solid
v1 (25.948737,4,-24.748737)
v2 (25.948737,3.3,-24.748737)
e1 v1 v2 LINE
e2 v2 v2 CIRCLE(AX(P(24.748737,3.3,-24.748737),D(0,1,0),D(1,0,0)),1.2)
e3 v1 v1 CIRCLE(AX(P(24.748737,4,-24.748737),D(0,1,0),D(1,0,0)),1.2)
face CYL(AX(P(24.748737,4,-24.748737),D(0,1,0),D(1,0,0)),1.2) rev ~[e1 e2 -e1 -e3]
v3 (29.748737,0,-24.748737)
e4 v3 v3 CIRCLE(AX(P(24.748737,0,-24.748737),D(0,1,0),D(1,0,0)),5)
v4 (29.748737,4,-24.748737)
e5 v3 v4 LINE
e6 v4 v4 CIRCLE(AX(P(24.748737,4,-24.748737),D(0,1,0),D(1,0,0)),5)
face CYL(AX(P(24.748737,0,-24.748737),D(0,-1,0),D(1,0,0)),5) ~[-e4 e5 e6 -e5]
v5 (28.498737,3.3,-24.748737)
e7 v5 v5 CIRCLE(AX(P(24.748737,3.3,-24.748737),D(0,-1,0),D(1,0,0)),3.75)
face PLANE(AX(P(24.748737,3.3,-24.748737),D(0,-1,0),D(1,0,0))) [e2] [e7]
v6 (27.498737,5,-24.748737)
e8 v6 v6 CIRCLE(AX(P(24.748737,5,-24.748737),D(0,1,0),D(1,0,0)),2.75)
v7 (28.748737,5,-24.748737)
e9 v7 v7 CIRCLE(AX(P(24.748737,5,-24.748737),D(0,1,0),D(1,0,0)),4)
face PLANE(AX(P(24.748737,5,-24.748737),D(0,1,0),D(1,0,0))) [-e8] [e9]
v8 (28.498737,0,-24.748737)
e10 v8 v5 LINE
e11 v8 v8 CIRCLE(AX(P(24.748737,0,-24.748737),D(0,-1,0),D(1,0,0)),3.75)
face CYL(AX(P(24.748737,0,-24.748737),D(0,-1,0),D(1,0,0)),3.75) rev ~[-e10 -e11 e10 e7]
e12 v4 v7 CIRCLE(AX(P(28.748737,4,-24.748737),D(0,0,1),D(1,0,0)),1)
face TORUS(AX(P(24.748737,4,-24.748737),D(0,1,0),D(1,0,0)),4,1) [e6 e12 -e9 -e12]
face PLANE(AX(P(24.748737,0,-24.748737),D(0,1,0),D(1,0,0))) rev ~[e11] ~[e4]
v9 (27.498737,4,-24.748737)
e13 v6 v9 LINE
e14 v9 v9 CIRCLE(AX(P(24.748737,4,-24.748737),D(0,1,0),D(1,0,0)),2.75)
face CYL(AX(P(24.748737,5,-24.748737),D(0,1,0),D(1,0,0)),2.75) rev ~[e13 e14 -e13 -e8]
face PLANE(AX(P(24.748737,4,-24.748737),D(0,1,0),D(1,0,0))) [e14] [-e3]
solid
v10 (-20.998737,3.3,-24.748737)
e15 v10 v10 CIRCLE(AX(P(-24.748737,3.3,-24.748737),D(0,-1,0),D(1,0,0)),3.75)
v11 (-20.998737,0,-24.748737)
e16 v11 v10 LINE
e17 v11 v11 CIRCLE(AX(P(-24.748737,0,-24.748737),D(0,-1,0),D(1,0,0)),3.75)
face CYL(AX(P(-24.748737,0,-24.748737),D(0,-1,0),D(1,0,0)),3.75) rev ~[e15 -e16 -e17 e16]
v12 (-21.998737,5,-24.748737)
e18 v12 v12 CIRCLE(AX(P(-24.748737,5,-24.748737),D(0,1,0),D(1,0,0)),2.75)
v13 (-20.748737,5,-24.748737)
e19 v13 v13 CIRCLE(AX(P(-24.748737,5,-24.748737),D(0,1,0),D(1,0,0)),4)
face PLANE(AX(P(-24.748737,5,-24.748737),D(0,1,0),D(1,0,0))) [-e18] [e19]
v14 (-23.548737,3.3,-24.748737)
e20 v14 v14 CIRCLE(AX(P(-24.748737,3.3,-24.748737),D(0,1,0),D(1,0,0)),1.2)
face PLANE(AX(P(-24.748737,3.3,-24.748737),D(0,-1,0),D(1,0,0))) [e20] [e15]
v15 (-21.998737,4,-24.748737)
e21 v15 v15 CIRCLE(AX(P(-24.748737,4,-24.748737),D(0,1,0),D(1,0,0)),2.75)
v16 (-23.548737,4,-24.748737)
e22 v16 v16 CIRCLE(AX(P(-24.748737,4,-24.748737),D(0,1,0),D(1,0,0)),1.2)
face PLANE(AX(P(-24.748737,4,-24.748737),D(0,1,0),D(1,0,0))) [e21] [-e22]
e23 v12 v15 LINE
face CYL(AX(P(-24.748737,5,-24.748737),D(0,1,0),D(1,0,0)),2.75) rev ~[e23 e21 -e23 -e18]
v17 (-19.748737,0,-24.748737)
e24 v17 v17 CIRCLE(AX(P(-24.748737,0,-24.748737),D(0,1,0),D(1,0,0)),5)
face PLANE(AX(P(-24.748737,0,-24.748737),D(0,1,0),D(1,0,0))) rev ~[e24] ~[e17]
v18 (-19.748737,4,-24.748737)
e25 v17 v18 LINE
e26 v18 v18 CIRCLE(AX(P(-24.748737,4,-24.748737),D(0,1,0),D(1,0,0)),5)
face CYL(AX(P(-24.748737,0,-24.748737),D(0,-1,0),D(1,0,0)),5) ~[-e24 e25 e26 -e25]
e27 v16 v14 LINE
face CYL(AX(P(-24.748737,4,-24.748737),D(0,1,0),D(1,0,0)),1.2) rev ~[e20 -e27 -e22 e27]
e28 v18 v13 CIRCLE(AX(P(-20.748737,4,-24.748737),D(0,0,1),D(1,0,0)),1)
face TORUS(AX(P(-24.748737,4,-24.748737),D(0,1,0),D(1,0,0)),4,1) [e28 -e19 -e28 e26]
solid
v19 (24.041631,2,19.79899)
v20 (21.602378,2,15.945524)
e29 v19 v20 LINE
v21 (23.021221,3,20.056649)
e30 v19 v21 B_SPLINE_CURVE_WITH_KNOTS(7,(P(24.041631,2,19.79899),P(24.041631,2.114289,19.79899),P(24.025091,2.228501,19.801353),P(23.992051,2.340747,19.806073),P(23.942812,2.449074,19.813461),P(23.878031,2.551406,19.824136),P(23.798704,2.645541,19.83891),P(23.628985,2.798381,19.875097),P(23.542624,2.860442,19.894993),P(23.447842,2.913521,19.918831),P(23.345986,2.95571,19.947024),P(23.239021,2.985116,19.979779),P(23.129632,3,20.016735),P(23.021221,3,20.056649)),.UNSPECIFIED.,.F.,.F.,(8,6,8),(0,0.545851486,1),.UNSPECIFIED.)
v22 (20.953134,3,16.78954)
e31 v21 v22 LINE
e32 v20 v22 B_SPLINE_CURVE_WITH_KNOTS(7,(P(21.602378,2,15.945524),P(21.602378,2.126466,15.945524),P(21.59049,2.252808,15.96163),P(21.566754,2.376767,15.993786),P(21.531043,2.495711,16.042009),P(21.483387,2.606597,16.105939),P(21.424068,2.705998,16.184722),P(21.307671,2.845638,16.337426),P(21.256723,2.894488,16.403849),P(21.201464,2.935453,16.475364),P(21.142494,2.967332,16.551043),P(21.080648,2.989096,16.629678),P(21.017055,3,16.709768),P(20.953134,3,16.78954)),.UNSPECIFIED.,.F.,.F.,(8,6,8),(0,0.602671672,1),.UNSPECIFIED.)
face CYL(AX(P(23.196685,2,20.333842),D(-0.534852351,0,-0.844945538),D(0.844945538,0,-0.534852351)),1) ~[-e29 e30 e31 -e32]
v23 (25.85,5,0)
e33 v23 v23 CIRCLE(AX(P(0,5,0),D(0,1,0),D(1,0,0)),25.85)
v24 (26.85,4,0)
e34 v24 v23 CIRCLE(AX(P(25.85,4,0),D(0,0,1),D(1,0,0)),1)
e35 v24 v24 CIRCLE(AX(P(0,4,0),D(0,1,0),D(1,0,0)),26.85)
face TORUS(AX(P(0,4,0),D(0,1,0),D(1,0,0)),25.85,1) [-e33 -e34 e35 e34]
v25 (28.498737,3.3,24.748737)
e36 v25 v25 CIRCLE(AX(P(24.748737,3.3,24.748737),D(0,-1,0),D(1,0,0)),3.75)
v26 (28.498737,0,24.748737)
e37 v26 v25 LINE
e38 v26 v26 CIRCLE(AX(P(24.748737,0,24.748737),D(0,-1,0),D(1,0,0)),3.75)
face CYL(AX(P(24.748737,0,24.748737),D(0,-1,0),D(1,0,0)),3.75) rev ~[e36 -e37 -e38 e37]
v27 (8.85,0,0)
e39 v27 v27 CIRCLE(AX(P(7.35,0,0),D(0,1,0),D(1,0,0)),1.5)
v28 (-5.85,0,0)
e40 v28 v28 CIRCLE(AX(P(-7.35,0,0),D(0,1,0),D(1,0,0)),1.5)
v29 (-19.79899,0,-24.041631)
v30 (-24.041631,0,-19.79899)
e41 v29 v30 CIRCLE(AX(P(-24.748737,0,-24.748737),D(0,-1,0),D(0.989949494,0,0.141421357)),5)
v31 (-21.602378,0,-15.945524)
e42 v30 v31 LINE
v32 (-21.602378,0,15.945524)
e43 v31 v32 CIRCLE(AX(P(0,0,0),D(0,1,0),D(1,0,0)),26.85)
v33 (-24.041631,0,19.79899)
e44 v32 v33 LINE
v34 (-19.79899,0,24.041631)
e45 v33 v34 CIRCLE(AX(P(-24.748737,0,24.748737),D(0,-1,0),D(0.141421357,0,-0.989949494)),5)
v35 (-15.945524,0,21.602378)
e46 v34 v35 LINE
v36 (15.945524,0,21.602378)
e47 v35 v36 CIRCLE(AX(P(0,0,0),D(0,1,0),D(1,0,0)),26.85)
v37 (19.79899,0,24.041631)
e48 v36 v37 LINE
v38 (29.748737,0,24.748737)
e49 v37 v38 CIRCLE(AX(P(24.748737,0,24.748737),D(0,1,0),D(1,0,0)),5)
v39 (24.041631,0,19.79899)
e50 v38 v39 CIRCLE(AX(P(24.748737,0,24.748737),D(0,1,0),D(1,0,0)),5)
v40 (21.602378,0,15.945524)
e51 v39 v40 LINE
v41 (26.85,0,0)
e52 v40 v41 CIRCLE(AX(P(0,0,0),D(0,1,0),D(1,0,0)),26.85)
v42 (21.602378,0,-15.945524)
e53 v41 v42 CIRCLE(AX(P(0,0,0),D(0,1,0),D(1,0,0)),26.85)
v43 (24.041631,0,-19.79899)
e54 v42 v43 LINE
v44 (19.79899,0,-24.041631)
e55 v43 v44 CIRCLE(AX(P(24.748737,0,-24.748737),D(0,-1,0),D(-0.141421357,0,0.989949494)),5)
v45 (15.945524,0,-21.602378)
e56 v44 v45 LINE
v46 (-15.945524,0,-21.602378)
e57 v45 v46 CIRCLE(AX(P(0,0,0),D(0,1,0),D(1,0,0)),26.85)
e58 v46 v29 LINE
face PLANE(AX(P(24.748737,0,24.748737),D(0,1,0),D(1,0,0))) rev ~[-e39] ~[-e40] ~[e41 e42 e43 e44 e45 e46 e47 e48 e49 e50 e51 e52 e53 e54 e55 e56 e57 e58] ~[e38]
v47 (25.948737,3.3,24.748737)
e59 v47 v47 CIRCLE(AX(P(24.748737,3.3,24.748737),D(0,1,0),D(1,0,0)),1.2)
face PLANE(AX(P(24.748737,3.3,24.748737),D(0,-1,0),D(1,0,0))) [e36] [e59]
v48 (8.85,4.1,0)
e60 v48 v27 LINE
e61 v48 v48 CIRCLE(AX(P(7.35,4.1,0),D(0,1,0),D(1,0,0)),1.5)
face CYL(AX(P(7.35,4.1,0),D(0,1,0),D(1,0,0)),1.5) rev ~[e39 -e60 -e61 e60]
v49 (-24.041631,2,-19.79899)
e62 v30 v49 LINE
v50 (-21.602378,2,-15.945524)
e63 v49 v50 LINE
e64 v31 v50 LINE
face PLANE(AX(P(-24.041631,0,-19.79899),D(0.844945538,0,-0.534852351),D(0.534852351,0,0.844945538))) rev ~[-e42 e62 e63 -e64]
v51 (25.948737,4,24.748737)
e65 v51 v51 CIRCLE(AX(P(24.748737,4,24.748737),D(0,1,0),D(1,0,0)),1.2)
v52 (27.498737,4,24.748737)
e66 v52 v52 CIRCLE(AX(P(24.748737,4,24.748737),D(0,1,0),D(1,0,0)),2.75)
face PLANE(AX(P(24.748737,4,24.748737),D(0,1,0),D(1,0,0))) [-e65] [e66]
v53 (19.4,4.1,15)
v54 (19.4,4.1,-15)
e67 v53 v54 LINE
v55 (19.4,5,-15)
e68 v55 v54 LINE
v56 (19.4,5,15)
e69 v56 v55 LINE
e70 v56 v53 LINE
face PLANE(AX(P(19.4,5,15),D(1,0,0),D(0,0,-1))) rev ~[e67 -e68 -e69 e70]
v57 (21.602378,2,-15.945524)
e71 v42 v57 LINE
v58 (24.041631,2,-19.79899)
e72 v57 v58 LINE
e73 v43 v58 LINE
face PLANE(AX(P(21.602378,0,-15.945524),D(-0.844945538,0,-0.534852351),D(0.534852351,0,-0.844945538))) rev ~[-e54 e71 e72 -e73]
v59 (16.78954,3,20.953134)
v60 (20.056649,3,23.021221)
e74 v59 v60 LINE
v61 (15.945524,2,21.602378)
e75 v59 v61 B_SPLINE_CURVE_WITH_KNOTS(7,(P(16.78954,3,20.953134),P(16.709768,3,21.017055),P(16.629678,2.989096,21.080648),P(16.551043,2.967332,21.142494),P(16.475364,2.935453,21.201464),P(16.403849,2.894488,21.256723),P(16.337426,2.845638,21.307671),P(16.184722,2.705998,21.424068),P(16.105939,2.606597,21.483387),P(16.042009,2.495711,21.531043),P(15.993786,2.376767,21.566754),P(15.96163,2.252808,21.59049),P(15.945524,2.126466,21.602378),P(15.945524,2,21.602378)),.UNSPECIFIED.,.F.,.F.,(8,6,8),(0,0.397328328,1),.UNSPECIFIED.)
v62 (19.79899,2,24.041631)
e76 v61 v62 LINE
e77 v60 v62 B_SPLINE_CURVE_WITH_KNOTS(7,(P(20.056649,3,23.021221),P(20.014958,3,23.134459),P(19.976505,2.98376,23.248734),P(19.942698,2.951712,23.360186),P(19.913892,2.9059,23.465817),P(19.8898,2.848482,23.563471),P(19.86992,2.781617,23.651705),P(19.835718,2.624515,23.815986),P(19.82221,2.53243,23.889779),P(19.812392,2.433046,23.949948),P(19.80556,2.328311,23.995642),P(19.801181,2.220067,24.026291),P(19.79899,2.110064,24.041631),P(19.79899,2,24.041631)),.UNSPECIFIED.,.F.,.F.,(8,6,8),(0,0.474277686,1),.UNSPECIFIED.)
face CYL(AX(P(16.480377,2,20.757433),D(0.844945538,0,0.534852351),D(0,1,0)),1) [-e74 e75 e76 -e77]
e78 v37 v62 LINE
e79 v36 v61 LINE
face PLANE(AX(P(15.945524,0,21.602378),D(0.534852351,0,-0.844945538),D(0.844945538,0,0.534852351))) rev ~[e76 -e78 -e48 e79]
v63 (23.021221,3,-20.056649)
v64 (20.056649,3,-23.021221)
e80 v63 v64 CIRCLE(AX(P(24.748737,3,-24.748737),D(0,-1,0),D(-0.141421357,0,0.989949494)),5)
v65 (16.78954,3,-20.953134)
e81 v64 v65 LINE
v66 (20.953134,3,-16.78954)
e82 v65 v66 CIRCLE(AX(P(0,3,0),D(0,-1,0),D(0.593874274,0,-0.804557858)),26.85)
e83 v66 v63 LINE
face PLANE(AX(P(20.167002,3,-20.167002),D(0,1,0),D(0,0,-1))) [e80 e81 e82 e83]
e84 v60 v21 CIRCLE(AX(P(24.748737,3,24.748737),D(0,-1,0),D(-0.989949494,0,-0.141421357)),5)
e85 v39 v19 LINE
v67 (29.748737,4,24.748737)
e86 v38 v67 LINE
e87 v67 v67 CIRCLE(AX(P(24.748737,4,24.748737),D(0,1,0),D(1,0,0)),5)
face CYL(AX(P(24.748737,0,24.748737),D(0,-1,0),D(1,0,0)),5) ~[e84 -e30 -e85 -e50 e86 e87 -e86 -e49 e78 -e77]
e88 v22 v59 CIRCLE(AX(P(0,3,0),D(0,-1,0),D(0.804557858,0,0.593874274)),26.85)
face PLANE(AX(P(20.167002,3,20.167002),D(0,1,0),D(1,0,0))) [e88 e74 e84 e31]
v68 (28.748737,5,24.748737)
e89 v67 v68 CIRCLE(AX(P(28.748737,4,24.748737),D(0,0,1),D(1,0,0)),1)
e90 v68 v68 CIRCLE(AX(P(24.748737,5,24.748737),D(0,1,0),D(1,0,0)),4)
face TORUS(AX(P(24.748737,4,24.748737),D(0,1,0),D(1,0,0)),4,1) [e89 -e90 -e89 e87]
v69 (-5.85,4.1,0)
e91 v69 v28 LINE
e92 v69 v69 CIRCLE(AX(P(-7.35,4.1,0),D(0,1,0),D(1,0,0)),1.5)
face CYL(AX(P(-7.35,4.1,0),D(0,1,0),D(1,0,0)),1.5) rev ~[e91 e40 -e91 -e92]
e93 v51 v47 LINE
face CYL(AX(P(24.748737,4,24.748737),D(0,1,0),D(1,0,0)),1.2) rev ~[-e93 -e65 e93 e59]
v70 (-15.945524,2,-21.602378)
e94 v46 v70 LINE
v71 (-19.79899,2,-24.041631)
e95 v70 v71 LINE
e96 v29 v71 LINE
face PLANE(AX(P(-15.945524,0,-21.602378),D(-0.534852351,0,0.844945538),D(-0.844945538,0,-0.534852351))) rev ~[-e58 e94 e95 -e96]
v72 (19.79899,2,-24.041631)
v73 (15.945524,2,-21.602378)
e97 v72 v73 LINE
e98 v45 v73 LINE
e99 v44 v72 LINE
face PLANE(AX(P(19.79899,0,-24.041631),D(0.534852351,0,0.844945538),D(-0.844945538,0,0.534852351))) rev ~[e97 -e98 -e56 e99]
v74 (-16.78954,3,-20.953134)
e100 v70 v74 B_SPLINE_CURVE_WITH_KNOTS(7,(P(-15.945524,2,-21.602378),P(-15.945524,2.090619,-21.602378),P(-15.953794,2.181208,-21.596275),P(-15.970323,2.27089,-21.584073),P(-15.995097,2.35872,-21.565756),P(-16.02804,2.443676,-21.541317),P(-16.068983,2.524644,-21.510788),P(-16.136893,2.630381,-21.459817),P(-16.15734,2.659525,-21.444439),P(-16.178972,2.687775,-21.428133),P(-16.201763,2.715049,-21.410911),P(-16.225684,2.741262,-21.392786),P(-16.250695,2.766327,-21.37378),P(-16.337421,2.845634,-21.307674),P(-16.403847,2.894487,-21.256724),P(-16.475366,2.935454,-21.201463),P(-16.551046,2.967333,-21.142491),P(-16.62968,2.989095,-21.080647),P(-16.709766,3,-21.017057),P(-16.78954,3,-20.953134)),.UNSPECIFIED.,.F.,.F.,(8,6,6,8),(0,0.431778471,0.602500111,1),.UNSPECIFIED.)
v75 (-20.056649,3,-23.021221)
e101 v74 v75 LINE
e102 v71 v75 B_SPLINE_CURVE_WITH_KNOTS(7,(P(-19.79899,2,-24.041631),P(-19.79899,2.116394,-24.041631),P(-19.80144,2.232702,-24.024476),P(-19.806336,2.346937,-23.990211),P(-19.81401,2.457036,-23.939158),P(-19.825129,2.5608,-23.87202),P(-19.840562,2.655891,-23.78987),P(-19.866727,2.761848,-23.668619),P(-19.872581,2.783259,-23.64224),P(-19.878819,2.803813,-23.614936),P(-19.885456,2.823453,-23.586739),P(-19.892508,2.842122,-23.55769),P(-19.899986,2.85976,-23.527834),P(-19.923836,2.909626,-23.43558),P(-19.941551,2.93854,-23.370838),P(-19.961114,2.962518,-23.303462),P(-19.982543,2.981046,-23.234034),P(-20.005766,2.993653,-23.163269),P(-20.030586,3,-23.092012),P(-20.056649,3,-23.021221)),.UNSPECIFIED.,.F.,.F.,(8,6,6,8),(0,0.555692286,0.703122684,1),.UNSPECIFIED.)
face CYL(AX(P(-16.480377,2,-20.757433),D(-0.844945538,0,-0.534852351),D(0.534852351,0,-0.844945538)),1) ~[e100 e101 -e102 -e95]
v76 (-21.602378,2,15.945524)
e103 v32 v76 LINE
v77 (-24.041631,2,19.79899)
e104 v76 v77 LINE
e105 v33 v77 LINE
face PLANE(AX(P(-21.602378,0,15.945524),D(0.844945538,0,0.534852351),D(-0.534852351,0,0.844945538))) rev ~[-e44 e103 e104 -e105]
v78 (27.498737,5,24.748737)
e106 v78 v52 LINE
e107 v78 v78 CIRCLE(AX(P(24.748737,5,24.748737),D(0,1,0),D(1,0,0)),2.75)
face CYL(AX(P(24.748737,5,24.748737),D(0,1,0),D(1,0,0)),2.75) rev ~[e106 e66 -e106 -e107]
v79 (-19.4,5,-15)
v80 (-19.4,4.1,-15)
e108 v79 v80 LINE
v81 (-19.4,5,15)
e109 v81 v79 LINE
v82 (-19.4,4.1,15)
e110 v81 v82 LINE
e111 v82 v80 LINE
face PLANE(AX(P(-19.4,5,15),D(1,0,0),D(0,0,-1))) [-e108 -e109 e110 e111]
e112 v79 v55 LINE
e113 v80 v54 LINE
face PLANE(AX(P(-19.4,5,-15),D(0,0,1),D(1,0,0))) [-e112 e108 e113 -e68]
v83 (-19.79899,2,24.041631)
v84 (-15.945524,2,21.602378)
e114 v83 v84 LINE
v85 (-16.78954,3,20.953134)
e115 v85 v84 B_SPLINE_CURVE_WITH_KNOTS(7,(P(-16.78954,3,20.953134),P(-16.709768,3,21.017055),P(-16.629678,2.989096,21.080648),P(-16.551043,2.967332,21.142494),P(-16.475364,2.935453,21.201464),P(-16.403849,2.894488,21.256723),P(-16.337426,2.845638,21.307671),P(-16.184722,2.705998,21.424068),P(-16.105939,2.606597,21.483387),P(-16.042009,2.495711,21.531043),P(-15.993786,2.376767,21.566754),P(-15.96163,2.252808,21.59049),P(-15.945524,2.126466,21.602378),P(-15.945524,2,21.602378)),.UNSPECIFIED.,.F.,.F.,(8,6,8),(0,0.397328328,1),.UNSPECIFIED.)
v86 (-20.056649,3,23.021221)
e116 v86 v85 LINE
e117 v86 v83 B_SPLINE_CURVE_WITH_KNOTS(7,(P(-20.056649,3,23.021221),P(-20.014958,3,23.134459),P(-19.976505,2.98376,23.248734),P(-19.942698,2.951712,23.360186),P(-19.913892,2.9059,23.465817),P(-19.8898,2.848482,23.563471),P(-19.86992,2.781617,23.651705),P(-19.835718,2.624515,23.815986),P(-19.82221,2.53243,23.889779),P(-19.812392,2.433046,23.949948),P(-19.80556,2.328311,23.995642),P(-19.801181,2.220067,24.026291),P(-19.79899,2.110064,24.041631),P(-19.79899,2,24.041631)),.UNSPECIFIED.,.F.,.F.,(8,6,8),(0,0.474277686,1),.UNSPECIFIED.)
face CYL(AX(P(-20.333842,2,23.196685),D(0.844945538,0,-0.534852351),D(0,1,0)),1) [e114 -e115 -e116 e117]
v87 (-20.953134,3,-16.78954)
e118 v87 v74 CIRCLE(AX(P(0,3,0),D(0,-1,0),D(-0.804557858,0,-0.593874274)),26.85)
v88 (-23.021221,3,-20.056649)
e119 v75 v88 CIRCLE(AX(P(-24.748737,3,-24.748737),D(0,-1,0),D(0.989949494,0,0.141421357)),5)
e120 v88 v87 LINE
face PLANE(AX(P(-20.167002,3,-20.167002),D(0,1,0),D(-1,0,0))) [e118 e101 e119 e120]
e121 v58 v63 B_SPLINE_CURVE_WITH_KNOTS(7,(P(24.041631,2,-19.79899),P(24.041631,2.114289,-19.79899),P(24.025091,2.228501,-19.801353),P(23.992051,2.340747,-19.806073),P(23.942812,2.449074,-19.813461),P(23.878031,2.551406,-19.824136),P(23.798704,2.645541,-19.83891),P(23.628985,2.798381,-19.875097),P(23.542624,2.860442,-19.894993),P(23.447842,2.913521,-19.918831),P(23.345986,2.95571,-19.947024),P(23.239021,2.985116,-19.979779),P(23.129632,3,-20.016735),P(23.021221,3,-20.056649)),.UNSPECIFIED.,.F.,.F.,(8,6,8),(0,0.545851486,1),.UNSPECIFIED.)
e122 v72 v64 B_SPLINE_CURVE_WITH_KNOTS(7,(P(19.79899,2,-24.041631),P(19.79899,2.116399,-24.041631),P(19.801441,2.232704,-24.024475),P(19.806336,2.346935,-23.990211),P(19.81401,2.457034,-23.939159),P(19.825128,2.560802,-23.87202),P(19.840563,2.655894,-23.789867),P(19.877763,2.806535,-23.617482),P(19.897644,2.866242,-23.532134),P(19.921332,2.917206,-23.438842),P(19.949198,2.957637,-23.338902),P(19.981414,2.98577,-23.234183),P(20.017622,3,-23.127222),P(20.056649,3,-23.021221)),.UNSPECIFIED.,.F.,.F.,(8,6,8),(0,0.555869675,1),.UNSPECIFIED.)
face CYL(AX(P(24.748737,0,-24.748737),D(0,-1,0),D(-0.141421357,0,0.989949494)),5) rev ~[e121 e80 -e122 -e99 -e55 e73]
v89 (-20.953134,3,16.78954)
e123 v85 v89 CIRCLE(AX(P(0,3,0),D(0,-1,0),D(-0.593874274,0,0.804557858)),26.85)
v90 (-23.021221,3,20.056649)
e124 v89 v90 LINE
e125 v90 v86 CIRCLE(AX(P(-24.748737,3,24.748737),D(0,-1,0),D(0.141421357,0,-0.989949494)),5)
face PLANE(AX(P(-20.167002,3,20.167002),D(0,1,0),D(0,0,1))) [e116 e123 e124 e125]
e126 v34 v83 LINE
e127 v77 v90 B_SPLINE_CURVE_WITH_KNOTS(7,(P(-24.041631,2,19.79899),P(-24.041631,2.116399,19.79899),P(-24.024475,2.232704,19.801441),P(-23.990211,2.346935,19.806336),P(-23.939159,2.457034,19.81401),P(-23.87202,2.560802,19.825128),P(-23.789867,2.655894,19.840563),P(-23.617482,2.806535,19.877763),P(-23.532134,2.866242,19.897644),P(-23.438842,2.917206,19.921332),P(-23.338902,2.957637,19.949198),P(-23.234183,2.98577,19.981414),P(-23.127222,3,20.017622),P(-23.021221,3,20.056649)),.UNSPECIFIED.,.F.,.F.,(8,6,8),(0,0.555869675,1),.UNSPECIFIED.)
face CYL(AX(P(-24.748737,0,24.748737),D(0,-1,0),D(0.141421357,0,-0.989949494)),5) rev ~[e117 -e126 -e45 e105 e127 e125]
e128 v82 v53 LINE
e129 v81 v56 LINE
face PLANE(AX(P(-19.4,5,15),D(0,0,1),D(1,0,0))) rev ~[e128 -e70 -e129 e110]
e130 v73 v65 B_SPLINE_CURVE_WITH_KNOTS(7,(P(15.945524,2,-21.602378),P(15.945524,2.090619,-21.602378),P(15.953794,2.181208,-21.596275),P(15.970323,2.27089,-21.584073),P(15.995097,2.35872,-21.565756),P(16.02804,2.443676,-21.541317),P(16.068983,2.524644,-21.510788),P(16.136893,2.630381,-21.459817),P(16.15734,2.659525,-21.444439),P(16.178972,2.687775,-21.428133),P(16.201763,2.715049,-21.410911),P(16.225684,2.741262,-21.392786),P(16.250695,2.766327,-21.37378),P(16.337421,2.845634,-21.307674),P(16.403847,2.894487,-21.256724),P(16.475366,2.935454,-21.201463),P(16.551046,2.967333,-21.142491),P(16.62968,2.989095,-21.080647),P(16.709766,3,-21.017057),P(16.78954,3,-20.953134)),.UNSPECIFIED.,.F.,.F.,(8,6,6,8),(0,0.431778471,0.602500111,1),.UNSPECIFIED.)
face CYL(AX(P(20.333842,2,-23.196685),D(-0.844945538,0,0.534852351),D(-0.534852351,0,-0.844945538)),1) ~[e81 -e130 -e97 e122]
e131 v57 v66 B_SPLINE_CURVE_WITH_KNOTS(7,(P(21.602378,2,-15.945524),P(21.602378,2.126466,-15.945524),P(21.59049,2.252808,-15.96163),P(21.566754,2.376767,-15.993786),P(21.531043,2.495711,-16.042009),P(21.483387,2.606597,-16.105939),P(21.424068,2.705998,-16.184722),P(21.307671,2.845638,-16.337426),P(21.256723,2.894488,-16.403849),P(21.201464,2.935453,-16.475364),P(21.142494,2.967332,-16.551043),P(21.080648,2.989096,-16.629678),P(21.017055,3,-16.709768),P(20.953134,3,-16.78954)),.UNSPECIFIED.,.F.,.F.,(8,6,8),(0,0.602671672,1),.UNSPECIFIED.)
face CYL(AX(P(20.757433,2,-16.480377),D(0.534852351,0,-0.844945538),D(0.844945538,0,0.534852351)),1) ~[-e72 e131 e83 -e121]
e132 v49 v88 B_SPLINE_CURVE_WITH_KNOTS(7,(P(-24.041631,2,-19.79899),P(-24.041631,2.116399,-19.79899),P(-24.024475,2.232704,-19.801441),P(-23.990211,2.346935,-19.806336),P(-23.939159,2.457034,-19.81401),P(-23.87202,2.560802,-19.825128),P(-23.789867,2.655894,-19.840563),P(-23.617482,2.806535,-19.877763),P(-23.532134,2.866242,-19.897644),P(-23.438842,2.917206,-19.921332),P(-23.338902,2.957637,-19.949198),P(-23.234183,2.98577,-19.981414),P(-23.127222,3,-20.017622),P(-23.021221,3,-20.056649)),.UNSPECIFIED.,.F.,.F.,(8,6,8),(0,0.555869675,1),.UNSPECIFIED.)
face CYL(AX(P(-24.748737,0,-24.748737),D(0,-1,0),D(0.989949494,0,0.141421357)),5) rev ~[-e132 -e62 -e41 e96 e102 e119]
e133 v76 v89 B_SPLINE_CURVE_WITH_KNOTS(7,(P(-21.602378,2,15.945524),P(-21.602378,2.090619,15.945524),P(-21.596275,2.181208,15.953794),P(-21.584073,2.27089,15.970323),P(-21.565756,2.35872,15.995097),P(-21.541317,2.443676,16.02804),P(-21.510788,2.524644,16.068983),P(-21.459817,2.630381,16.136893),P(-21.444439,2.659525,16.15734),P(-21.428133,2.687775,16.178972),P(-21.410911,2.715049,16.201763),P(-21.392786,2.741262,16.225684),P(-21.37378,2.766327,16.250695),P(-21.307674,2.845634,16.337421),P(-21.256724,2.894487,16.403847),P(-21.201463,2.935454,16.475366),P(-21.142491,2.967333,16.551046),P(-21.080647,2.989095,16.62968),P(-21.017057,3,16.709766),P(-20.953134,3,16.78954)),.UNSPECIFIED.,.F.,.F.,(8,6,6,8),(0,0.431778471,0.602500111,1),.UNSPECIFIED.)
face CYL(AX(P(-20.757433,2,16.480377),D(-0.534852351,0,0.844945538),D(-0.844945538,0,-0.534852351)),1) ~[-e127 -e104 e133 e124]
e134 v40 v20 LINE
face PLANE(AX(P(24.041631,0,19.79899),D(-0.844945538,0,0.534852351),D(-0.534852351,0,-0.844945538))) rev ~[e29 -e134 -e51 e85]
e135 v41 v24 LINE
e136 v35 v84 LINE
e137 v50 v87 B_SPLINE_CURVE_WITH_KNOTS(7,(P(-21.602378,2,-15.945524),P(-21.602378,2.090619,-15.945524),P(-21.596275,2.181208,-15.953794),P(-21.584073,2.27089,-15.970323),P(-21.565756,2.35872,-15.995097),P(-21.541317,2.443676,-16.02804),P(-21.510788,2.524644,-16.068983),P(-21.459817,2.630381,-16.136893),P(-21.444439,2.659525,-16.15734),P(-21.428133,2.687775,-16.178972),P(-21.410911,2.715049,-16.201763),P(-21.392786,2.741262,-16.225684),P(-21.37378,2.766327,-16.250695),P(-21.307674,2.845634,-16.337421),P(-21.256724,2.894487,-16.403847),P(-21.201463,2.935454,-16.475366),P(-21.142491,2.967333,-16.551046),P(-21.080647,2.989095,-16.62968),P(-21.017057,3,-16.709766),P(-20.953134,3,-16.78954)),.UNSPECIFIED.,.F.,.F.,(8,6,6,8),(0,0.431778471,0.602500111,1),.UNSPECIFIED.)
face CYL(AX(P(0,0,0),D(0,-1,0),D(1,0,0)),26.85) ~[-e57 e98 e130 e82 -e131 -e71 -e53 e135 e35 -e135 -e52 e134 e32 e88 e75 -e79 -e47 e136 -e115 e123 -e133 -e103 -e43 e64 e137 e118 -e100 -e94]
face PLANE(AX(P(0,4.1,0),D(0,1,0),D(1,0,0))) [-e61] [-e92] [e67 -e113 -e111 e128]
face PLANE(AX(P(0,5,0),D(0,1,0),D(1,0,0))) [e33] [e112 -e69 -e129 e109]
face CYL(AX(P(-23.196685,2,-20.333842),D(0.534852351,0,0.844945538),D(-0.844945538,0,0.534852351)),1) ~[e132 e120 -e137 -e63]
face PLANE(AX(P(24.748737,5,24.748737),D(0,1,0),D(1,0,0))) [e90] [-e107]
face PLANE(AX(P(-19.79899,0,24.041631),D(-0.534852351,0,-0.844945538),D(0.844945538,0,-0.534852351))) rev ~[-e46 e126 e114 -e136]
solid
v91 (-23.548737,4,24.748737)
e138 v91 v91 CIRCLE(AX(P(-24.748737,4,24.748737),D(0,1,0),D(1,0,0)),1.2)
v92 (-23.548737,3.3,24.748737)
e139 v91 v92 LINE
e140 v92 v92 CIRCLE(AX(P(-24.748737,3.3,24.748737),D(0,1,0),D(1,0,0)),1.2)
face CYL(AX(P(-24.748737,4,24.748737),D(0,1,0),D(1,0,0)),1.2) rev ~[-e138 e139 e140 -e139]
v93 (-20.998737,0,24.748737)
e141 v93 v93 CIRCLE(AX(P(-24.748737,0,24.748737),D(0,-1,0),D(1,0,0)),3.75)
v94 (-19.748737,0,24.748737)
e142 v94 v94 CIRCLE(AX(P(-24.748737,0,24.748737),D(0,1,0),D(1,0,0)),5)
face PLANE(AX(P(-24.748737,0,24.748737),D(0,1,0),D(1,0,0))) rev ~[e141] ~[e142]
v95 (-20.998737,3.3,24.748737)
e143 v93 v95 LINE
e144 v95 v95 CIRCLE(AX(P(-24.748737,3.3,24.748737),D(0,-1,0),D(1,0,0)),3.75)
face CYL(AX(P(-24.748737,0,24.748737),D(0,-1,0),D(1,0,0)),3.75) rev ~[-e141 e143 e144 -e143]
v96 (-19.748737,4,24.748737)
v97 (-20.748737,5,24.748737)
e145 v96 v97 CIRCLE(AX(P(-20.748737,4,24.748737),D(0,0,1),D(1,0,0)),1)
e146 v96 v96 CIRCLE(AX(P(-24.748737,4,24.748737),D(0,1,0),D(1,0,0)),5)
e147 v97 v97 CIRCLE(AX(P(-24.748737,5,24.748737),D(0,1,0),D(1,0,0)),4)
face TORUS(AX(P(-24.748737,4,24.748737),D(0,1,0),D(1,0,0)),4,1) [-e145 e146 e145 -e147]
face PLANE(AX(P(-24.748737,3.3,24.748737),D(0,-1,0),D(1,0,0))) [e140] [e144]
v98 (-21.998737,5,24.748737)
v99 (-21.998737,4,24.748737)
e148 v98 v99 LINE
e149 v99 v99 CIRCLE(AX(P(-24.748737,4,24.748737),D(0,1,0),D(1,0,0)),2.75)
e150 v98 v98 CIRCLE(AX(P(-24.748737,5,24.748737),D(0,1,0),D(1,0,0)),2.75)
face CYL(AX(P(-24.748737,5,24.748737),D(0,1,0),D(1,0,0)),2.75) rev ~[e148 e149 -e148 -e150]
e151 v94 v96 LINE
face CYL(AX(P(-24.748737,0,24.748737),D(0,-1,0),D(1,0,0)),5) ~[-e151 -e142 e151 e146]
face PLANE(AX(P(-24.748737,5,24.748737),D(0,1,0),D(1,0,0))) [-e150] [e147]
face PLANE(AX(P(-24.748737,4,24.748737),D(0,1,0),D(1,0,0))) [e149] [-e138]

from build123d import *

# Parameters (mm, degrees)
SKETCH1_R                 = 26.85
BOSS_EXTRUDE1_DEPTH       = 5
FILLET1_R                 = 1
SKETCH2_W                 = 38.8
SKETCH2_H                 = 30
CUT_EXTRUDE1_DEPTH        = 0.9
SKETCH3_R                 = 1.5
CUT_EXTRUDE2_DEPTH        = 5.1
SKETCH5_R                 = 5
BOSS_EXTRUDE4_DEPTH       = 5
BOSS_EXTRUDE4_2_DEPTH     = 5
BOSS_EXTRUDE4_3_DEPTH     = 5
BOSS_EXTRUDE4_4_DEPTH     = 5
BOSS_EXTRUDE5_DEPTH       = 3
FILLET5_R                 = 1
CIRPATTERN20_COUNT        = 4
FILLET5_OF_CIRPATTERN20_R = 1
FILLET6_R                 = 1
FILLET7_R                 = 1
FILLET8_R                 = 1
FILLET9_R                 = 1
SKETCH9_R                 = 2.75
CUT_EXTRUDE5_DEPTH        = 1
SKETCH10_R                = 1.2
CUT_EXTRUDE6_DEPTH        = 5.0000001
SKETCH11_R                = 3.75
CUT_EXTRUDE7_DEPTH        = 3.3


with BuildPart() as part:
    # Sketch1 → Boss-Extrude1 (new body)
    with BuildSketch(Plane(origin=(0, 0, 0), x_dir=(1, 0, 0), z_dir=(0, 1, 0))):
        Circle(SKETCH1_R)
    extrude(amount=BOSS_EXTRUDE1_DEPTH)

    # Fillet1
    fillet1_edges = [part.edges().sort_by_distance(p)[0] for p in [
        (-26.85, 5, 0),
    ]]
    fillet(fillet1_edges, radius=FILLET1_R)

    # Sketch2 → Cut-Extrude1 (cut)
    with BuildSketch(Plane(origin=(0, 5, 0), x_dir=(1, 0, 0), z_dir=(0, 1, 0))):
        Rectangle(SKETCH2_W, SKETCH2_H)
    extrude(amount=-CUT_EXTRUDE1_DEPTH, mode=Mode.SUBTRACT)

    # Sketch3 → Cut-Extrude2 (cut, through all)
    with BuildSketch(Plane(origin=(0, 4.1, 0), x_dir=(1, 0, 0), z_dir=(0, 1, 0))):
        with Locations((7.35, 0)):
            Circle(SKETCH3_R)
        with Locations((-7.35, 0)):
            Circle(SKETCH3_R)
    extrude(amount=-CUT_EXTRUDE2_DEPTH, mode=Mode.SUBTRACT)



with BuildPart() as body_2:
    # Sketch5 → Boss-Extrude4 (new body)
    with BuildSketch(Plane(origin=(0, 0, 0), x_dir=(1, 0, 0), z_dir=(0, 1, 0))):
        with Locations((24.748737342, -24.748737342)):
            Circle(SKETCH5_R)
    extrude(amount=BOSS_EXTRUDE4_DEPTH)


with BuildPart() as body_3:
    # Sketch5 → Boss-Extrude4 2 (new body)
    with BuildSketch(Plane(origin=(0, 0, 0), x_dir=(1, 0, 0), z_dir=(0, 1, 0))):
        with Locations((-24.748737342, -24.748737342)):
            Circle(SKETCH5_R)
    extrude(amount=BOSS_EXTRUDE4_2_DEPTH)

    # Fillet8
    fillet8_edges = [body_3.edges().sort_by_distance(p)[0] for p in [
        (-29.748737342, 5, 24.748737342),
    ]]
    fillet(fillet8_edges, radius=FILLET8_R)


with BuildPart() as body_4:
    # Sketch5 → Boss-Extrude4 3 (new body)
    with BuildSketch(Plane(origin=(0, 0, 0), x_dir=(1, 0, 0), z_dir=(0, 1, 0))):
        with Locations((-24.748737342, 24.748737342)):
            Circle(SKETCH5_R)
    extrude(amount=BOSS_EXTRUDE4_3_DEPTH)

    # Fillet6
    fillet6_edges = [body_4.edges().sort_by_distance(p)[0] for p in [
        (-29.748737342, 5, -24.748737342),
    ]]
    fillet(fillet6_edges, radius=FILLET6_R)


with BuildPart() as body_5:
    # Sketch5 → Boss-Extrude4 4 (new body)
    with BuildSketch(Plane(origin=(0, 0, 0), x_dir=(1, 0, 0), z_dir=(0, 1, 0))):
        with Locations((24.748737342, 24.748737342)):
            Circle(SKETCH5_R)
    extrude(amount=BOSS_EXTRUDE4_4_DEPTH)

    # Fillet7
    fillet7_edges = [body_5.edges().sort_by_distance(p)[0] for p in [
        (19.748737342, 5, -24.748737342),
    ]]
    fillet(fillet7_edges, radius=FILLET7_R)


with BuildPart() as part_1:
    add(part.part)

    add(body_2.part)  # Boss-Extrude5 merges body 2
    # Sketch6 → Boss-Extrude5 (add)
    with BuildSketch(Plane(origin=(0, 0, 0), x_dir=(1, 0, 0), z_dir=(0, 1, 0))):
        with BuildLine():
            Line((24.04163056, -19.798989873), (21.602378494, -15.945524244))
            ThreePointArc((21.602378494, -15.945524244), (18.985817075, -18.985817075), (15.945524244, -21.602378494))
            Line((15.945524244, -21.602378494), (19.798989873, -24.04163056))
            ThreePointArc((19.798989873, -24.04163056), (21.213203436, -21.213203436), (24.04163056, -19.798989873))
        make_face()
    boss_extrude5 = extrude(amount=BOSS_EXTRUDE5_DEPTH)

    # Fillet5
    fillet5_edges = [part_1.edges().sort_by_distance(p)[0] for p in [
        (17.872257059, 3, 22.822004527),
        (22.822004527, 3, 17.872257059),
    ]]
    fillet(fillet5_edges, radius=FILLET5_R)

    # CirPattern20: Boss-Extrude5 ×4 about axis
    cirpattern20_axis = Axis((0, 0, 0), (0, 1, 0))
    for i in range(1, CIRPATTERN20_COUNT):
        add(boss_extrude5.rotate(cirpattern20_axis, i * 360 / CIRPATTERN20_COUNT))

    # Fillet5 of CirPattern20
    fillet5_of_cirpattern20_edges = [part_1.edges().sort_by_distance(p)[0] for p in [
        (22.822004527, 3, -17.872257059),
        (17.872257059, 3, -22.822004527),
        (-17.872257059, 3, -22.822004527),
        (-22.822004527, 3, -17.872257059),
        (-22.822004527, 3, 17.872257059),
        (-17.872257059, 3, 22.822004527),
    ]]
    fillet(fillet5_of_cirpattern20_edges, radius=FILLET5_OF_CIRPATTERN20_R)

    # Fillet9
    fillet9_edges = [part_1.edges().sort_by_distance(p)[0] for p in [
        (19.748737342, 5, 24.748737342),
    ]]
    fillet(fillet9_edges, radius=FILLET9_R)


with BuildPart() as cut_extrude5_tool:
    # Sketch9 → Cut-Extrude5 (new body)
    with BuildSketch(Plane(origin=(0, 5, 0), x_dir=(1, 0, 0), z_dir=(0, 1, 0))):
        with Locations((24.748737342, -24.748737342)):
            Circle(SKETCH9_R)
        with Locations((-24.748737342, -24.748737342)):
            Circle(SKETCH9_R)
        with Locations((-24.748737342, 24.748737342)):
            Circle(SKETCH9_R)
        with Locations((24.748737342, 24.748737342)):
            Circle(SKETCH9_R)
    extrude(amount=-CUT_EXTRUDE5_DEPTH)


with BuildPart() as part_2:
    add(part_1.part)

    # Cut-Extrude5: cut by cut_extrude5_tool
    add(cut_extrude5_tool.part, mode=Mode.SUBTRACT)


with BuildPart() as body_3_1:
    add(body_3.part)

    # Cut-Extrude5: cut by cut_extrude5_tool
    add(cut_extrude5_tool.part, mode=Mode.SUBTRACT)


with BuildPart() as body_4_1:
    add(body_4.part)

    # Cut-Extrude5: cut by cut_extrude5_tool
    add(cut_extrude5_tool.part, mode=Mode.SUBTRACT)


with BuildPart() as body_5_1:
    add(body_5.part)

    # Cut-Extrude5: cut by cut_extrude5_tool
    add(cut_extrude5_tool.part, mode=Mode.SUBTRACT)


with BuildPart() as cut_extrude6_tool:
    # Sketch10 → Cut-Extrude6 (new body, through all)
    with BuildSketch(Plane(origin=(0, 4, 0), x_dir=(1, 0, 0), z_dir=(0, 1, 0))):
        with Locations((24.748737342, -24.748737342)):
            Circle(SKETCH10_R)
        with Locations((-24.748737342, -24.748737342)):
            Circle(SKETCH10_R)
        with Locations((-24.748737342, 24.748737342)):
            Circle(SKETCH10_R)
        with Locations((24.748737342, 24.748737342)):
            Circle(SKETCH10_R)
    extrude(amount=-CUT_EXTRUDE6_DEPTH)


with BuildPart() as part_3:
    add(part_2.part)

    # Cut-Extrude6: cut by cut_extrude6_tool
    add(cut_extrude6_tool.part, mode=Mode.SUBTRACT)


with BuildPart() as body_3_2:
    add(body_3_1.part)

    # Cut-Extrude6: cut by cut_extrude6_tool
    add(cut_extrude6_tool.part, mode=Mode.SUBTRACT)


with BuildPart() as body_4_2:
    add(body_4_1.part)

    # Cut-Extrude6: cut by cut_extrude6_tool
    add(cut_extrude6_tool.part, mode=Mode.SUBTRACT)


with BuildPart() as body_5_2:
    add(body_5_1.part)

    # Cut-Extrude6: cut by cut_extrude6_tool
    add(cut_extrude6_tool.part, mode=Mode.SUBTRACT)


with BuildPart() as cut_extrude7_tool:
    # Sketch11 → Cut-Extrude7 (new body)
    with BuildSketch(Plane.XZ):
        with Locations((24.748737342, 24.748737342)):
            Circle(SKETCH11_R)
        with Locations((24.748737342, -24.748737342)):
            Circle(SKETCH11_R)
        with Locations((-24.748737342, -24.748737342)):
            Circle(SKETCH11_R)
        with Locations((-24.748737342, 24.748737342)):
            Circle(SKETCH11_R)
    extrude(amount=-CUT_EXTRUDE7_DEPTH)


with BuildPart() as part_4:
    add(part_3.part)

    # Cut-Extrude7: cut by cut_extrude7_tool
    add(cut_extrude7_tool.part, mode=Mode.SUBTRACT)


with BuildPart() as body_3_3:
    add(body_3_2.part)

    # Cut-Extrude7: cut by cut_extrude7_tool
    add(cut_extrude7_tool.part, mode=Mode.SUBTRACT)


with BuildPart() as body_4_3:
    add(body_4_2.part)

    # Cut-Extrude7: cut by cut_extrude7_tool
    add(cut_extrude7_tool.part, mode=Mode.SUBTRACT)


with BuildPart() as body_5_3:
    add(body_5_2.part)

    # Cut-Extrude7: cut by cut_extrude7_tool
    add(cut_extrude7_tool.part, mode=Mode.SUBTRACT)


solid = Compound([part_4.part, body_3_3.part, body_4_3.part, body_5_3.part])
